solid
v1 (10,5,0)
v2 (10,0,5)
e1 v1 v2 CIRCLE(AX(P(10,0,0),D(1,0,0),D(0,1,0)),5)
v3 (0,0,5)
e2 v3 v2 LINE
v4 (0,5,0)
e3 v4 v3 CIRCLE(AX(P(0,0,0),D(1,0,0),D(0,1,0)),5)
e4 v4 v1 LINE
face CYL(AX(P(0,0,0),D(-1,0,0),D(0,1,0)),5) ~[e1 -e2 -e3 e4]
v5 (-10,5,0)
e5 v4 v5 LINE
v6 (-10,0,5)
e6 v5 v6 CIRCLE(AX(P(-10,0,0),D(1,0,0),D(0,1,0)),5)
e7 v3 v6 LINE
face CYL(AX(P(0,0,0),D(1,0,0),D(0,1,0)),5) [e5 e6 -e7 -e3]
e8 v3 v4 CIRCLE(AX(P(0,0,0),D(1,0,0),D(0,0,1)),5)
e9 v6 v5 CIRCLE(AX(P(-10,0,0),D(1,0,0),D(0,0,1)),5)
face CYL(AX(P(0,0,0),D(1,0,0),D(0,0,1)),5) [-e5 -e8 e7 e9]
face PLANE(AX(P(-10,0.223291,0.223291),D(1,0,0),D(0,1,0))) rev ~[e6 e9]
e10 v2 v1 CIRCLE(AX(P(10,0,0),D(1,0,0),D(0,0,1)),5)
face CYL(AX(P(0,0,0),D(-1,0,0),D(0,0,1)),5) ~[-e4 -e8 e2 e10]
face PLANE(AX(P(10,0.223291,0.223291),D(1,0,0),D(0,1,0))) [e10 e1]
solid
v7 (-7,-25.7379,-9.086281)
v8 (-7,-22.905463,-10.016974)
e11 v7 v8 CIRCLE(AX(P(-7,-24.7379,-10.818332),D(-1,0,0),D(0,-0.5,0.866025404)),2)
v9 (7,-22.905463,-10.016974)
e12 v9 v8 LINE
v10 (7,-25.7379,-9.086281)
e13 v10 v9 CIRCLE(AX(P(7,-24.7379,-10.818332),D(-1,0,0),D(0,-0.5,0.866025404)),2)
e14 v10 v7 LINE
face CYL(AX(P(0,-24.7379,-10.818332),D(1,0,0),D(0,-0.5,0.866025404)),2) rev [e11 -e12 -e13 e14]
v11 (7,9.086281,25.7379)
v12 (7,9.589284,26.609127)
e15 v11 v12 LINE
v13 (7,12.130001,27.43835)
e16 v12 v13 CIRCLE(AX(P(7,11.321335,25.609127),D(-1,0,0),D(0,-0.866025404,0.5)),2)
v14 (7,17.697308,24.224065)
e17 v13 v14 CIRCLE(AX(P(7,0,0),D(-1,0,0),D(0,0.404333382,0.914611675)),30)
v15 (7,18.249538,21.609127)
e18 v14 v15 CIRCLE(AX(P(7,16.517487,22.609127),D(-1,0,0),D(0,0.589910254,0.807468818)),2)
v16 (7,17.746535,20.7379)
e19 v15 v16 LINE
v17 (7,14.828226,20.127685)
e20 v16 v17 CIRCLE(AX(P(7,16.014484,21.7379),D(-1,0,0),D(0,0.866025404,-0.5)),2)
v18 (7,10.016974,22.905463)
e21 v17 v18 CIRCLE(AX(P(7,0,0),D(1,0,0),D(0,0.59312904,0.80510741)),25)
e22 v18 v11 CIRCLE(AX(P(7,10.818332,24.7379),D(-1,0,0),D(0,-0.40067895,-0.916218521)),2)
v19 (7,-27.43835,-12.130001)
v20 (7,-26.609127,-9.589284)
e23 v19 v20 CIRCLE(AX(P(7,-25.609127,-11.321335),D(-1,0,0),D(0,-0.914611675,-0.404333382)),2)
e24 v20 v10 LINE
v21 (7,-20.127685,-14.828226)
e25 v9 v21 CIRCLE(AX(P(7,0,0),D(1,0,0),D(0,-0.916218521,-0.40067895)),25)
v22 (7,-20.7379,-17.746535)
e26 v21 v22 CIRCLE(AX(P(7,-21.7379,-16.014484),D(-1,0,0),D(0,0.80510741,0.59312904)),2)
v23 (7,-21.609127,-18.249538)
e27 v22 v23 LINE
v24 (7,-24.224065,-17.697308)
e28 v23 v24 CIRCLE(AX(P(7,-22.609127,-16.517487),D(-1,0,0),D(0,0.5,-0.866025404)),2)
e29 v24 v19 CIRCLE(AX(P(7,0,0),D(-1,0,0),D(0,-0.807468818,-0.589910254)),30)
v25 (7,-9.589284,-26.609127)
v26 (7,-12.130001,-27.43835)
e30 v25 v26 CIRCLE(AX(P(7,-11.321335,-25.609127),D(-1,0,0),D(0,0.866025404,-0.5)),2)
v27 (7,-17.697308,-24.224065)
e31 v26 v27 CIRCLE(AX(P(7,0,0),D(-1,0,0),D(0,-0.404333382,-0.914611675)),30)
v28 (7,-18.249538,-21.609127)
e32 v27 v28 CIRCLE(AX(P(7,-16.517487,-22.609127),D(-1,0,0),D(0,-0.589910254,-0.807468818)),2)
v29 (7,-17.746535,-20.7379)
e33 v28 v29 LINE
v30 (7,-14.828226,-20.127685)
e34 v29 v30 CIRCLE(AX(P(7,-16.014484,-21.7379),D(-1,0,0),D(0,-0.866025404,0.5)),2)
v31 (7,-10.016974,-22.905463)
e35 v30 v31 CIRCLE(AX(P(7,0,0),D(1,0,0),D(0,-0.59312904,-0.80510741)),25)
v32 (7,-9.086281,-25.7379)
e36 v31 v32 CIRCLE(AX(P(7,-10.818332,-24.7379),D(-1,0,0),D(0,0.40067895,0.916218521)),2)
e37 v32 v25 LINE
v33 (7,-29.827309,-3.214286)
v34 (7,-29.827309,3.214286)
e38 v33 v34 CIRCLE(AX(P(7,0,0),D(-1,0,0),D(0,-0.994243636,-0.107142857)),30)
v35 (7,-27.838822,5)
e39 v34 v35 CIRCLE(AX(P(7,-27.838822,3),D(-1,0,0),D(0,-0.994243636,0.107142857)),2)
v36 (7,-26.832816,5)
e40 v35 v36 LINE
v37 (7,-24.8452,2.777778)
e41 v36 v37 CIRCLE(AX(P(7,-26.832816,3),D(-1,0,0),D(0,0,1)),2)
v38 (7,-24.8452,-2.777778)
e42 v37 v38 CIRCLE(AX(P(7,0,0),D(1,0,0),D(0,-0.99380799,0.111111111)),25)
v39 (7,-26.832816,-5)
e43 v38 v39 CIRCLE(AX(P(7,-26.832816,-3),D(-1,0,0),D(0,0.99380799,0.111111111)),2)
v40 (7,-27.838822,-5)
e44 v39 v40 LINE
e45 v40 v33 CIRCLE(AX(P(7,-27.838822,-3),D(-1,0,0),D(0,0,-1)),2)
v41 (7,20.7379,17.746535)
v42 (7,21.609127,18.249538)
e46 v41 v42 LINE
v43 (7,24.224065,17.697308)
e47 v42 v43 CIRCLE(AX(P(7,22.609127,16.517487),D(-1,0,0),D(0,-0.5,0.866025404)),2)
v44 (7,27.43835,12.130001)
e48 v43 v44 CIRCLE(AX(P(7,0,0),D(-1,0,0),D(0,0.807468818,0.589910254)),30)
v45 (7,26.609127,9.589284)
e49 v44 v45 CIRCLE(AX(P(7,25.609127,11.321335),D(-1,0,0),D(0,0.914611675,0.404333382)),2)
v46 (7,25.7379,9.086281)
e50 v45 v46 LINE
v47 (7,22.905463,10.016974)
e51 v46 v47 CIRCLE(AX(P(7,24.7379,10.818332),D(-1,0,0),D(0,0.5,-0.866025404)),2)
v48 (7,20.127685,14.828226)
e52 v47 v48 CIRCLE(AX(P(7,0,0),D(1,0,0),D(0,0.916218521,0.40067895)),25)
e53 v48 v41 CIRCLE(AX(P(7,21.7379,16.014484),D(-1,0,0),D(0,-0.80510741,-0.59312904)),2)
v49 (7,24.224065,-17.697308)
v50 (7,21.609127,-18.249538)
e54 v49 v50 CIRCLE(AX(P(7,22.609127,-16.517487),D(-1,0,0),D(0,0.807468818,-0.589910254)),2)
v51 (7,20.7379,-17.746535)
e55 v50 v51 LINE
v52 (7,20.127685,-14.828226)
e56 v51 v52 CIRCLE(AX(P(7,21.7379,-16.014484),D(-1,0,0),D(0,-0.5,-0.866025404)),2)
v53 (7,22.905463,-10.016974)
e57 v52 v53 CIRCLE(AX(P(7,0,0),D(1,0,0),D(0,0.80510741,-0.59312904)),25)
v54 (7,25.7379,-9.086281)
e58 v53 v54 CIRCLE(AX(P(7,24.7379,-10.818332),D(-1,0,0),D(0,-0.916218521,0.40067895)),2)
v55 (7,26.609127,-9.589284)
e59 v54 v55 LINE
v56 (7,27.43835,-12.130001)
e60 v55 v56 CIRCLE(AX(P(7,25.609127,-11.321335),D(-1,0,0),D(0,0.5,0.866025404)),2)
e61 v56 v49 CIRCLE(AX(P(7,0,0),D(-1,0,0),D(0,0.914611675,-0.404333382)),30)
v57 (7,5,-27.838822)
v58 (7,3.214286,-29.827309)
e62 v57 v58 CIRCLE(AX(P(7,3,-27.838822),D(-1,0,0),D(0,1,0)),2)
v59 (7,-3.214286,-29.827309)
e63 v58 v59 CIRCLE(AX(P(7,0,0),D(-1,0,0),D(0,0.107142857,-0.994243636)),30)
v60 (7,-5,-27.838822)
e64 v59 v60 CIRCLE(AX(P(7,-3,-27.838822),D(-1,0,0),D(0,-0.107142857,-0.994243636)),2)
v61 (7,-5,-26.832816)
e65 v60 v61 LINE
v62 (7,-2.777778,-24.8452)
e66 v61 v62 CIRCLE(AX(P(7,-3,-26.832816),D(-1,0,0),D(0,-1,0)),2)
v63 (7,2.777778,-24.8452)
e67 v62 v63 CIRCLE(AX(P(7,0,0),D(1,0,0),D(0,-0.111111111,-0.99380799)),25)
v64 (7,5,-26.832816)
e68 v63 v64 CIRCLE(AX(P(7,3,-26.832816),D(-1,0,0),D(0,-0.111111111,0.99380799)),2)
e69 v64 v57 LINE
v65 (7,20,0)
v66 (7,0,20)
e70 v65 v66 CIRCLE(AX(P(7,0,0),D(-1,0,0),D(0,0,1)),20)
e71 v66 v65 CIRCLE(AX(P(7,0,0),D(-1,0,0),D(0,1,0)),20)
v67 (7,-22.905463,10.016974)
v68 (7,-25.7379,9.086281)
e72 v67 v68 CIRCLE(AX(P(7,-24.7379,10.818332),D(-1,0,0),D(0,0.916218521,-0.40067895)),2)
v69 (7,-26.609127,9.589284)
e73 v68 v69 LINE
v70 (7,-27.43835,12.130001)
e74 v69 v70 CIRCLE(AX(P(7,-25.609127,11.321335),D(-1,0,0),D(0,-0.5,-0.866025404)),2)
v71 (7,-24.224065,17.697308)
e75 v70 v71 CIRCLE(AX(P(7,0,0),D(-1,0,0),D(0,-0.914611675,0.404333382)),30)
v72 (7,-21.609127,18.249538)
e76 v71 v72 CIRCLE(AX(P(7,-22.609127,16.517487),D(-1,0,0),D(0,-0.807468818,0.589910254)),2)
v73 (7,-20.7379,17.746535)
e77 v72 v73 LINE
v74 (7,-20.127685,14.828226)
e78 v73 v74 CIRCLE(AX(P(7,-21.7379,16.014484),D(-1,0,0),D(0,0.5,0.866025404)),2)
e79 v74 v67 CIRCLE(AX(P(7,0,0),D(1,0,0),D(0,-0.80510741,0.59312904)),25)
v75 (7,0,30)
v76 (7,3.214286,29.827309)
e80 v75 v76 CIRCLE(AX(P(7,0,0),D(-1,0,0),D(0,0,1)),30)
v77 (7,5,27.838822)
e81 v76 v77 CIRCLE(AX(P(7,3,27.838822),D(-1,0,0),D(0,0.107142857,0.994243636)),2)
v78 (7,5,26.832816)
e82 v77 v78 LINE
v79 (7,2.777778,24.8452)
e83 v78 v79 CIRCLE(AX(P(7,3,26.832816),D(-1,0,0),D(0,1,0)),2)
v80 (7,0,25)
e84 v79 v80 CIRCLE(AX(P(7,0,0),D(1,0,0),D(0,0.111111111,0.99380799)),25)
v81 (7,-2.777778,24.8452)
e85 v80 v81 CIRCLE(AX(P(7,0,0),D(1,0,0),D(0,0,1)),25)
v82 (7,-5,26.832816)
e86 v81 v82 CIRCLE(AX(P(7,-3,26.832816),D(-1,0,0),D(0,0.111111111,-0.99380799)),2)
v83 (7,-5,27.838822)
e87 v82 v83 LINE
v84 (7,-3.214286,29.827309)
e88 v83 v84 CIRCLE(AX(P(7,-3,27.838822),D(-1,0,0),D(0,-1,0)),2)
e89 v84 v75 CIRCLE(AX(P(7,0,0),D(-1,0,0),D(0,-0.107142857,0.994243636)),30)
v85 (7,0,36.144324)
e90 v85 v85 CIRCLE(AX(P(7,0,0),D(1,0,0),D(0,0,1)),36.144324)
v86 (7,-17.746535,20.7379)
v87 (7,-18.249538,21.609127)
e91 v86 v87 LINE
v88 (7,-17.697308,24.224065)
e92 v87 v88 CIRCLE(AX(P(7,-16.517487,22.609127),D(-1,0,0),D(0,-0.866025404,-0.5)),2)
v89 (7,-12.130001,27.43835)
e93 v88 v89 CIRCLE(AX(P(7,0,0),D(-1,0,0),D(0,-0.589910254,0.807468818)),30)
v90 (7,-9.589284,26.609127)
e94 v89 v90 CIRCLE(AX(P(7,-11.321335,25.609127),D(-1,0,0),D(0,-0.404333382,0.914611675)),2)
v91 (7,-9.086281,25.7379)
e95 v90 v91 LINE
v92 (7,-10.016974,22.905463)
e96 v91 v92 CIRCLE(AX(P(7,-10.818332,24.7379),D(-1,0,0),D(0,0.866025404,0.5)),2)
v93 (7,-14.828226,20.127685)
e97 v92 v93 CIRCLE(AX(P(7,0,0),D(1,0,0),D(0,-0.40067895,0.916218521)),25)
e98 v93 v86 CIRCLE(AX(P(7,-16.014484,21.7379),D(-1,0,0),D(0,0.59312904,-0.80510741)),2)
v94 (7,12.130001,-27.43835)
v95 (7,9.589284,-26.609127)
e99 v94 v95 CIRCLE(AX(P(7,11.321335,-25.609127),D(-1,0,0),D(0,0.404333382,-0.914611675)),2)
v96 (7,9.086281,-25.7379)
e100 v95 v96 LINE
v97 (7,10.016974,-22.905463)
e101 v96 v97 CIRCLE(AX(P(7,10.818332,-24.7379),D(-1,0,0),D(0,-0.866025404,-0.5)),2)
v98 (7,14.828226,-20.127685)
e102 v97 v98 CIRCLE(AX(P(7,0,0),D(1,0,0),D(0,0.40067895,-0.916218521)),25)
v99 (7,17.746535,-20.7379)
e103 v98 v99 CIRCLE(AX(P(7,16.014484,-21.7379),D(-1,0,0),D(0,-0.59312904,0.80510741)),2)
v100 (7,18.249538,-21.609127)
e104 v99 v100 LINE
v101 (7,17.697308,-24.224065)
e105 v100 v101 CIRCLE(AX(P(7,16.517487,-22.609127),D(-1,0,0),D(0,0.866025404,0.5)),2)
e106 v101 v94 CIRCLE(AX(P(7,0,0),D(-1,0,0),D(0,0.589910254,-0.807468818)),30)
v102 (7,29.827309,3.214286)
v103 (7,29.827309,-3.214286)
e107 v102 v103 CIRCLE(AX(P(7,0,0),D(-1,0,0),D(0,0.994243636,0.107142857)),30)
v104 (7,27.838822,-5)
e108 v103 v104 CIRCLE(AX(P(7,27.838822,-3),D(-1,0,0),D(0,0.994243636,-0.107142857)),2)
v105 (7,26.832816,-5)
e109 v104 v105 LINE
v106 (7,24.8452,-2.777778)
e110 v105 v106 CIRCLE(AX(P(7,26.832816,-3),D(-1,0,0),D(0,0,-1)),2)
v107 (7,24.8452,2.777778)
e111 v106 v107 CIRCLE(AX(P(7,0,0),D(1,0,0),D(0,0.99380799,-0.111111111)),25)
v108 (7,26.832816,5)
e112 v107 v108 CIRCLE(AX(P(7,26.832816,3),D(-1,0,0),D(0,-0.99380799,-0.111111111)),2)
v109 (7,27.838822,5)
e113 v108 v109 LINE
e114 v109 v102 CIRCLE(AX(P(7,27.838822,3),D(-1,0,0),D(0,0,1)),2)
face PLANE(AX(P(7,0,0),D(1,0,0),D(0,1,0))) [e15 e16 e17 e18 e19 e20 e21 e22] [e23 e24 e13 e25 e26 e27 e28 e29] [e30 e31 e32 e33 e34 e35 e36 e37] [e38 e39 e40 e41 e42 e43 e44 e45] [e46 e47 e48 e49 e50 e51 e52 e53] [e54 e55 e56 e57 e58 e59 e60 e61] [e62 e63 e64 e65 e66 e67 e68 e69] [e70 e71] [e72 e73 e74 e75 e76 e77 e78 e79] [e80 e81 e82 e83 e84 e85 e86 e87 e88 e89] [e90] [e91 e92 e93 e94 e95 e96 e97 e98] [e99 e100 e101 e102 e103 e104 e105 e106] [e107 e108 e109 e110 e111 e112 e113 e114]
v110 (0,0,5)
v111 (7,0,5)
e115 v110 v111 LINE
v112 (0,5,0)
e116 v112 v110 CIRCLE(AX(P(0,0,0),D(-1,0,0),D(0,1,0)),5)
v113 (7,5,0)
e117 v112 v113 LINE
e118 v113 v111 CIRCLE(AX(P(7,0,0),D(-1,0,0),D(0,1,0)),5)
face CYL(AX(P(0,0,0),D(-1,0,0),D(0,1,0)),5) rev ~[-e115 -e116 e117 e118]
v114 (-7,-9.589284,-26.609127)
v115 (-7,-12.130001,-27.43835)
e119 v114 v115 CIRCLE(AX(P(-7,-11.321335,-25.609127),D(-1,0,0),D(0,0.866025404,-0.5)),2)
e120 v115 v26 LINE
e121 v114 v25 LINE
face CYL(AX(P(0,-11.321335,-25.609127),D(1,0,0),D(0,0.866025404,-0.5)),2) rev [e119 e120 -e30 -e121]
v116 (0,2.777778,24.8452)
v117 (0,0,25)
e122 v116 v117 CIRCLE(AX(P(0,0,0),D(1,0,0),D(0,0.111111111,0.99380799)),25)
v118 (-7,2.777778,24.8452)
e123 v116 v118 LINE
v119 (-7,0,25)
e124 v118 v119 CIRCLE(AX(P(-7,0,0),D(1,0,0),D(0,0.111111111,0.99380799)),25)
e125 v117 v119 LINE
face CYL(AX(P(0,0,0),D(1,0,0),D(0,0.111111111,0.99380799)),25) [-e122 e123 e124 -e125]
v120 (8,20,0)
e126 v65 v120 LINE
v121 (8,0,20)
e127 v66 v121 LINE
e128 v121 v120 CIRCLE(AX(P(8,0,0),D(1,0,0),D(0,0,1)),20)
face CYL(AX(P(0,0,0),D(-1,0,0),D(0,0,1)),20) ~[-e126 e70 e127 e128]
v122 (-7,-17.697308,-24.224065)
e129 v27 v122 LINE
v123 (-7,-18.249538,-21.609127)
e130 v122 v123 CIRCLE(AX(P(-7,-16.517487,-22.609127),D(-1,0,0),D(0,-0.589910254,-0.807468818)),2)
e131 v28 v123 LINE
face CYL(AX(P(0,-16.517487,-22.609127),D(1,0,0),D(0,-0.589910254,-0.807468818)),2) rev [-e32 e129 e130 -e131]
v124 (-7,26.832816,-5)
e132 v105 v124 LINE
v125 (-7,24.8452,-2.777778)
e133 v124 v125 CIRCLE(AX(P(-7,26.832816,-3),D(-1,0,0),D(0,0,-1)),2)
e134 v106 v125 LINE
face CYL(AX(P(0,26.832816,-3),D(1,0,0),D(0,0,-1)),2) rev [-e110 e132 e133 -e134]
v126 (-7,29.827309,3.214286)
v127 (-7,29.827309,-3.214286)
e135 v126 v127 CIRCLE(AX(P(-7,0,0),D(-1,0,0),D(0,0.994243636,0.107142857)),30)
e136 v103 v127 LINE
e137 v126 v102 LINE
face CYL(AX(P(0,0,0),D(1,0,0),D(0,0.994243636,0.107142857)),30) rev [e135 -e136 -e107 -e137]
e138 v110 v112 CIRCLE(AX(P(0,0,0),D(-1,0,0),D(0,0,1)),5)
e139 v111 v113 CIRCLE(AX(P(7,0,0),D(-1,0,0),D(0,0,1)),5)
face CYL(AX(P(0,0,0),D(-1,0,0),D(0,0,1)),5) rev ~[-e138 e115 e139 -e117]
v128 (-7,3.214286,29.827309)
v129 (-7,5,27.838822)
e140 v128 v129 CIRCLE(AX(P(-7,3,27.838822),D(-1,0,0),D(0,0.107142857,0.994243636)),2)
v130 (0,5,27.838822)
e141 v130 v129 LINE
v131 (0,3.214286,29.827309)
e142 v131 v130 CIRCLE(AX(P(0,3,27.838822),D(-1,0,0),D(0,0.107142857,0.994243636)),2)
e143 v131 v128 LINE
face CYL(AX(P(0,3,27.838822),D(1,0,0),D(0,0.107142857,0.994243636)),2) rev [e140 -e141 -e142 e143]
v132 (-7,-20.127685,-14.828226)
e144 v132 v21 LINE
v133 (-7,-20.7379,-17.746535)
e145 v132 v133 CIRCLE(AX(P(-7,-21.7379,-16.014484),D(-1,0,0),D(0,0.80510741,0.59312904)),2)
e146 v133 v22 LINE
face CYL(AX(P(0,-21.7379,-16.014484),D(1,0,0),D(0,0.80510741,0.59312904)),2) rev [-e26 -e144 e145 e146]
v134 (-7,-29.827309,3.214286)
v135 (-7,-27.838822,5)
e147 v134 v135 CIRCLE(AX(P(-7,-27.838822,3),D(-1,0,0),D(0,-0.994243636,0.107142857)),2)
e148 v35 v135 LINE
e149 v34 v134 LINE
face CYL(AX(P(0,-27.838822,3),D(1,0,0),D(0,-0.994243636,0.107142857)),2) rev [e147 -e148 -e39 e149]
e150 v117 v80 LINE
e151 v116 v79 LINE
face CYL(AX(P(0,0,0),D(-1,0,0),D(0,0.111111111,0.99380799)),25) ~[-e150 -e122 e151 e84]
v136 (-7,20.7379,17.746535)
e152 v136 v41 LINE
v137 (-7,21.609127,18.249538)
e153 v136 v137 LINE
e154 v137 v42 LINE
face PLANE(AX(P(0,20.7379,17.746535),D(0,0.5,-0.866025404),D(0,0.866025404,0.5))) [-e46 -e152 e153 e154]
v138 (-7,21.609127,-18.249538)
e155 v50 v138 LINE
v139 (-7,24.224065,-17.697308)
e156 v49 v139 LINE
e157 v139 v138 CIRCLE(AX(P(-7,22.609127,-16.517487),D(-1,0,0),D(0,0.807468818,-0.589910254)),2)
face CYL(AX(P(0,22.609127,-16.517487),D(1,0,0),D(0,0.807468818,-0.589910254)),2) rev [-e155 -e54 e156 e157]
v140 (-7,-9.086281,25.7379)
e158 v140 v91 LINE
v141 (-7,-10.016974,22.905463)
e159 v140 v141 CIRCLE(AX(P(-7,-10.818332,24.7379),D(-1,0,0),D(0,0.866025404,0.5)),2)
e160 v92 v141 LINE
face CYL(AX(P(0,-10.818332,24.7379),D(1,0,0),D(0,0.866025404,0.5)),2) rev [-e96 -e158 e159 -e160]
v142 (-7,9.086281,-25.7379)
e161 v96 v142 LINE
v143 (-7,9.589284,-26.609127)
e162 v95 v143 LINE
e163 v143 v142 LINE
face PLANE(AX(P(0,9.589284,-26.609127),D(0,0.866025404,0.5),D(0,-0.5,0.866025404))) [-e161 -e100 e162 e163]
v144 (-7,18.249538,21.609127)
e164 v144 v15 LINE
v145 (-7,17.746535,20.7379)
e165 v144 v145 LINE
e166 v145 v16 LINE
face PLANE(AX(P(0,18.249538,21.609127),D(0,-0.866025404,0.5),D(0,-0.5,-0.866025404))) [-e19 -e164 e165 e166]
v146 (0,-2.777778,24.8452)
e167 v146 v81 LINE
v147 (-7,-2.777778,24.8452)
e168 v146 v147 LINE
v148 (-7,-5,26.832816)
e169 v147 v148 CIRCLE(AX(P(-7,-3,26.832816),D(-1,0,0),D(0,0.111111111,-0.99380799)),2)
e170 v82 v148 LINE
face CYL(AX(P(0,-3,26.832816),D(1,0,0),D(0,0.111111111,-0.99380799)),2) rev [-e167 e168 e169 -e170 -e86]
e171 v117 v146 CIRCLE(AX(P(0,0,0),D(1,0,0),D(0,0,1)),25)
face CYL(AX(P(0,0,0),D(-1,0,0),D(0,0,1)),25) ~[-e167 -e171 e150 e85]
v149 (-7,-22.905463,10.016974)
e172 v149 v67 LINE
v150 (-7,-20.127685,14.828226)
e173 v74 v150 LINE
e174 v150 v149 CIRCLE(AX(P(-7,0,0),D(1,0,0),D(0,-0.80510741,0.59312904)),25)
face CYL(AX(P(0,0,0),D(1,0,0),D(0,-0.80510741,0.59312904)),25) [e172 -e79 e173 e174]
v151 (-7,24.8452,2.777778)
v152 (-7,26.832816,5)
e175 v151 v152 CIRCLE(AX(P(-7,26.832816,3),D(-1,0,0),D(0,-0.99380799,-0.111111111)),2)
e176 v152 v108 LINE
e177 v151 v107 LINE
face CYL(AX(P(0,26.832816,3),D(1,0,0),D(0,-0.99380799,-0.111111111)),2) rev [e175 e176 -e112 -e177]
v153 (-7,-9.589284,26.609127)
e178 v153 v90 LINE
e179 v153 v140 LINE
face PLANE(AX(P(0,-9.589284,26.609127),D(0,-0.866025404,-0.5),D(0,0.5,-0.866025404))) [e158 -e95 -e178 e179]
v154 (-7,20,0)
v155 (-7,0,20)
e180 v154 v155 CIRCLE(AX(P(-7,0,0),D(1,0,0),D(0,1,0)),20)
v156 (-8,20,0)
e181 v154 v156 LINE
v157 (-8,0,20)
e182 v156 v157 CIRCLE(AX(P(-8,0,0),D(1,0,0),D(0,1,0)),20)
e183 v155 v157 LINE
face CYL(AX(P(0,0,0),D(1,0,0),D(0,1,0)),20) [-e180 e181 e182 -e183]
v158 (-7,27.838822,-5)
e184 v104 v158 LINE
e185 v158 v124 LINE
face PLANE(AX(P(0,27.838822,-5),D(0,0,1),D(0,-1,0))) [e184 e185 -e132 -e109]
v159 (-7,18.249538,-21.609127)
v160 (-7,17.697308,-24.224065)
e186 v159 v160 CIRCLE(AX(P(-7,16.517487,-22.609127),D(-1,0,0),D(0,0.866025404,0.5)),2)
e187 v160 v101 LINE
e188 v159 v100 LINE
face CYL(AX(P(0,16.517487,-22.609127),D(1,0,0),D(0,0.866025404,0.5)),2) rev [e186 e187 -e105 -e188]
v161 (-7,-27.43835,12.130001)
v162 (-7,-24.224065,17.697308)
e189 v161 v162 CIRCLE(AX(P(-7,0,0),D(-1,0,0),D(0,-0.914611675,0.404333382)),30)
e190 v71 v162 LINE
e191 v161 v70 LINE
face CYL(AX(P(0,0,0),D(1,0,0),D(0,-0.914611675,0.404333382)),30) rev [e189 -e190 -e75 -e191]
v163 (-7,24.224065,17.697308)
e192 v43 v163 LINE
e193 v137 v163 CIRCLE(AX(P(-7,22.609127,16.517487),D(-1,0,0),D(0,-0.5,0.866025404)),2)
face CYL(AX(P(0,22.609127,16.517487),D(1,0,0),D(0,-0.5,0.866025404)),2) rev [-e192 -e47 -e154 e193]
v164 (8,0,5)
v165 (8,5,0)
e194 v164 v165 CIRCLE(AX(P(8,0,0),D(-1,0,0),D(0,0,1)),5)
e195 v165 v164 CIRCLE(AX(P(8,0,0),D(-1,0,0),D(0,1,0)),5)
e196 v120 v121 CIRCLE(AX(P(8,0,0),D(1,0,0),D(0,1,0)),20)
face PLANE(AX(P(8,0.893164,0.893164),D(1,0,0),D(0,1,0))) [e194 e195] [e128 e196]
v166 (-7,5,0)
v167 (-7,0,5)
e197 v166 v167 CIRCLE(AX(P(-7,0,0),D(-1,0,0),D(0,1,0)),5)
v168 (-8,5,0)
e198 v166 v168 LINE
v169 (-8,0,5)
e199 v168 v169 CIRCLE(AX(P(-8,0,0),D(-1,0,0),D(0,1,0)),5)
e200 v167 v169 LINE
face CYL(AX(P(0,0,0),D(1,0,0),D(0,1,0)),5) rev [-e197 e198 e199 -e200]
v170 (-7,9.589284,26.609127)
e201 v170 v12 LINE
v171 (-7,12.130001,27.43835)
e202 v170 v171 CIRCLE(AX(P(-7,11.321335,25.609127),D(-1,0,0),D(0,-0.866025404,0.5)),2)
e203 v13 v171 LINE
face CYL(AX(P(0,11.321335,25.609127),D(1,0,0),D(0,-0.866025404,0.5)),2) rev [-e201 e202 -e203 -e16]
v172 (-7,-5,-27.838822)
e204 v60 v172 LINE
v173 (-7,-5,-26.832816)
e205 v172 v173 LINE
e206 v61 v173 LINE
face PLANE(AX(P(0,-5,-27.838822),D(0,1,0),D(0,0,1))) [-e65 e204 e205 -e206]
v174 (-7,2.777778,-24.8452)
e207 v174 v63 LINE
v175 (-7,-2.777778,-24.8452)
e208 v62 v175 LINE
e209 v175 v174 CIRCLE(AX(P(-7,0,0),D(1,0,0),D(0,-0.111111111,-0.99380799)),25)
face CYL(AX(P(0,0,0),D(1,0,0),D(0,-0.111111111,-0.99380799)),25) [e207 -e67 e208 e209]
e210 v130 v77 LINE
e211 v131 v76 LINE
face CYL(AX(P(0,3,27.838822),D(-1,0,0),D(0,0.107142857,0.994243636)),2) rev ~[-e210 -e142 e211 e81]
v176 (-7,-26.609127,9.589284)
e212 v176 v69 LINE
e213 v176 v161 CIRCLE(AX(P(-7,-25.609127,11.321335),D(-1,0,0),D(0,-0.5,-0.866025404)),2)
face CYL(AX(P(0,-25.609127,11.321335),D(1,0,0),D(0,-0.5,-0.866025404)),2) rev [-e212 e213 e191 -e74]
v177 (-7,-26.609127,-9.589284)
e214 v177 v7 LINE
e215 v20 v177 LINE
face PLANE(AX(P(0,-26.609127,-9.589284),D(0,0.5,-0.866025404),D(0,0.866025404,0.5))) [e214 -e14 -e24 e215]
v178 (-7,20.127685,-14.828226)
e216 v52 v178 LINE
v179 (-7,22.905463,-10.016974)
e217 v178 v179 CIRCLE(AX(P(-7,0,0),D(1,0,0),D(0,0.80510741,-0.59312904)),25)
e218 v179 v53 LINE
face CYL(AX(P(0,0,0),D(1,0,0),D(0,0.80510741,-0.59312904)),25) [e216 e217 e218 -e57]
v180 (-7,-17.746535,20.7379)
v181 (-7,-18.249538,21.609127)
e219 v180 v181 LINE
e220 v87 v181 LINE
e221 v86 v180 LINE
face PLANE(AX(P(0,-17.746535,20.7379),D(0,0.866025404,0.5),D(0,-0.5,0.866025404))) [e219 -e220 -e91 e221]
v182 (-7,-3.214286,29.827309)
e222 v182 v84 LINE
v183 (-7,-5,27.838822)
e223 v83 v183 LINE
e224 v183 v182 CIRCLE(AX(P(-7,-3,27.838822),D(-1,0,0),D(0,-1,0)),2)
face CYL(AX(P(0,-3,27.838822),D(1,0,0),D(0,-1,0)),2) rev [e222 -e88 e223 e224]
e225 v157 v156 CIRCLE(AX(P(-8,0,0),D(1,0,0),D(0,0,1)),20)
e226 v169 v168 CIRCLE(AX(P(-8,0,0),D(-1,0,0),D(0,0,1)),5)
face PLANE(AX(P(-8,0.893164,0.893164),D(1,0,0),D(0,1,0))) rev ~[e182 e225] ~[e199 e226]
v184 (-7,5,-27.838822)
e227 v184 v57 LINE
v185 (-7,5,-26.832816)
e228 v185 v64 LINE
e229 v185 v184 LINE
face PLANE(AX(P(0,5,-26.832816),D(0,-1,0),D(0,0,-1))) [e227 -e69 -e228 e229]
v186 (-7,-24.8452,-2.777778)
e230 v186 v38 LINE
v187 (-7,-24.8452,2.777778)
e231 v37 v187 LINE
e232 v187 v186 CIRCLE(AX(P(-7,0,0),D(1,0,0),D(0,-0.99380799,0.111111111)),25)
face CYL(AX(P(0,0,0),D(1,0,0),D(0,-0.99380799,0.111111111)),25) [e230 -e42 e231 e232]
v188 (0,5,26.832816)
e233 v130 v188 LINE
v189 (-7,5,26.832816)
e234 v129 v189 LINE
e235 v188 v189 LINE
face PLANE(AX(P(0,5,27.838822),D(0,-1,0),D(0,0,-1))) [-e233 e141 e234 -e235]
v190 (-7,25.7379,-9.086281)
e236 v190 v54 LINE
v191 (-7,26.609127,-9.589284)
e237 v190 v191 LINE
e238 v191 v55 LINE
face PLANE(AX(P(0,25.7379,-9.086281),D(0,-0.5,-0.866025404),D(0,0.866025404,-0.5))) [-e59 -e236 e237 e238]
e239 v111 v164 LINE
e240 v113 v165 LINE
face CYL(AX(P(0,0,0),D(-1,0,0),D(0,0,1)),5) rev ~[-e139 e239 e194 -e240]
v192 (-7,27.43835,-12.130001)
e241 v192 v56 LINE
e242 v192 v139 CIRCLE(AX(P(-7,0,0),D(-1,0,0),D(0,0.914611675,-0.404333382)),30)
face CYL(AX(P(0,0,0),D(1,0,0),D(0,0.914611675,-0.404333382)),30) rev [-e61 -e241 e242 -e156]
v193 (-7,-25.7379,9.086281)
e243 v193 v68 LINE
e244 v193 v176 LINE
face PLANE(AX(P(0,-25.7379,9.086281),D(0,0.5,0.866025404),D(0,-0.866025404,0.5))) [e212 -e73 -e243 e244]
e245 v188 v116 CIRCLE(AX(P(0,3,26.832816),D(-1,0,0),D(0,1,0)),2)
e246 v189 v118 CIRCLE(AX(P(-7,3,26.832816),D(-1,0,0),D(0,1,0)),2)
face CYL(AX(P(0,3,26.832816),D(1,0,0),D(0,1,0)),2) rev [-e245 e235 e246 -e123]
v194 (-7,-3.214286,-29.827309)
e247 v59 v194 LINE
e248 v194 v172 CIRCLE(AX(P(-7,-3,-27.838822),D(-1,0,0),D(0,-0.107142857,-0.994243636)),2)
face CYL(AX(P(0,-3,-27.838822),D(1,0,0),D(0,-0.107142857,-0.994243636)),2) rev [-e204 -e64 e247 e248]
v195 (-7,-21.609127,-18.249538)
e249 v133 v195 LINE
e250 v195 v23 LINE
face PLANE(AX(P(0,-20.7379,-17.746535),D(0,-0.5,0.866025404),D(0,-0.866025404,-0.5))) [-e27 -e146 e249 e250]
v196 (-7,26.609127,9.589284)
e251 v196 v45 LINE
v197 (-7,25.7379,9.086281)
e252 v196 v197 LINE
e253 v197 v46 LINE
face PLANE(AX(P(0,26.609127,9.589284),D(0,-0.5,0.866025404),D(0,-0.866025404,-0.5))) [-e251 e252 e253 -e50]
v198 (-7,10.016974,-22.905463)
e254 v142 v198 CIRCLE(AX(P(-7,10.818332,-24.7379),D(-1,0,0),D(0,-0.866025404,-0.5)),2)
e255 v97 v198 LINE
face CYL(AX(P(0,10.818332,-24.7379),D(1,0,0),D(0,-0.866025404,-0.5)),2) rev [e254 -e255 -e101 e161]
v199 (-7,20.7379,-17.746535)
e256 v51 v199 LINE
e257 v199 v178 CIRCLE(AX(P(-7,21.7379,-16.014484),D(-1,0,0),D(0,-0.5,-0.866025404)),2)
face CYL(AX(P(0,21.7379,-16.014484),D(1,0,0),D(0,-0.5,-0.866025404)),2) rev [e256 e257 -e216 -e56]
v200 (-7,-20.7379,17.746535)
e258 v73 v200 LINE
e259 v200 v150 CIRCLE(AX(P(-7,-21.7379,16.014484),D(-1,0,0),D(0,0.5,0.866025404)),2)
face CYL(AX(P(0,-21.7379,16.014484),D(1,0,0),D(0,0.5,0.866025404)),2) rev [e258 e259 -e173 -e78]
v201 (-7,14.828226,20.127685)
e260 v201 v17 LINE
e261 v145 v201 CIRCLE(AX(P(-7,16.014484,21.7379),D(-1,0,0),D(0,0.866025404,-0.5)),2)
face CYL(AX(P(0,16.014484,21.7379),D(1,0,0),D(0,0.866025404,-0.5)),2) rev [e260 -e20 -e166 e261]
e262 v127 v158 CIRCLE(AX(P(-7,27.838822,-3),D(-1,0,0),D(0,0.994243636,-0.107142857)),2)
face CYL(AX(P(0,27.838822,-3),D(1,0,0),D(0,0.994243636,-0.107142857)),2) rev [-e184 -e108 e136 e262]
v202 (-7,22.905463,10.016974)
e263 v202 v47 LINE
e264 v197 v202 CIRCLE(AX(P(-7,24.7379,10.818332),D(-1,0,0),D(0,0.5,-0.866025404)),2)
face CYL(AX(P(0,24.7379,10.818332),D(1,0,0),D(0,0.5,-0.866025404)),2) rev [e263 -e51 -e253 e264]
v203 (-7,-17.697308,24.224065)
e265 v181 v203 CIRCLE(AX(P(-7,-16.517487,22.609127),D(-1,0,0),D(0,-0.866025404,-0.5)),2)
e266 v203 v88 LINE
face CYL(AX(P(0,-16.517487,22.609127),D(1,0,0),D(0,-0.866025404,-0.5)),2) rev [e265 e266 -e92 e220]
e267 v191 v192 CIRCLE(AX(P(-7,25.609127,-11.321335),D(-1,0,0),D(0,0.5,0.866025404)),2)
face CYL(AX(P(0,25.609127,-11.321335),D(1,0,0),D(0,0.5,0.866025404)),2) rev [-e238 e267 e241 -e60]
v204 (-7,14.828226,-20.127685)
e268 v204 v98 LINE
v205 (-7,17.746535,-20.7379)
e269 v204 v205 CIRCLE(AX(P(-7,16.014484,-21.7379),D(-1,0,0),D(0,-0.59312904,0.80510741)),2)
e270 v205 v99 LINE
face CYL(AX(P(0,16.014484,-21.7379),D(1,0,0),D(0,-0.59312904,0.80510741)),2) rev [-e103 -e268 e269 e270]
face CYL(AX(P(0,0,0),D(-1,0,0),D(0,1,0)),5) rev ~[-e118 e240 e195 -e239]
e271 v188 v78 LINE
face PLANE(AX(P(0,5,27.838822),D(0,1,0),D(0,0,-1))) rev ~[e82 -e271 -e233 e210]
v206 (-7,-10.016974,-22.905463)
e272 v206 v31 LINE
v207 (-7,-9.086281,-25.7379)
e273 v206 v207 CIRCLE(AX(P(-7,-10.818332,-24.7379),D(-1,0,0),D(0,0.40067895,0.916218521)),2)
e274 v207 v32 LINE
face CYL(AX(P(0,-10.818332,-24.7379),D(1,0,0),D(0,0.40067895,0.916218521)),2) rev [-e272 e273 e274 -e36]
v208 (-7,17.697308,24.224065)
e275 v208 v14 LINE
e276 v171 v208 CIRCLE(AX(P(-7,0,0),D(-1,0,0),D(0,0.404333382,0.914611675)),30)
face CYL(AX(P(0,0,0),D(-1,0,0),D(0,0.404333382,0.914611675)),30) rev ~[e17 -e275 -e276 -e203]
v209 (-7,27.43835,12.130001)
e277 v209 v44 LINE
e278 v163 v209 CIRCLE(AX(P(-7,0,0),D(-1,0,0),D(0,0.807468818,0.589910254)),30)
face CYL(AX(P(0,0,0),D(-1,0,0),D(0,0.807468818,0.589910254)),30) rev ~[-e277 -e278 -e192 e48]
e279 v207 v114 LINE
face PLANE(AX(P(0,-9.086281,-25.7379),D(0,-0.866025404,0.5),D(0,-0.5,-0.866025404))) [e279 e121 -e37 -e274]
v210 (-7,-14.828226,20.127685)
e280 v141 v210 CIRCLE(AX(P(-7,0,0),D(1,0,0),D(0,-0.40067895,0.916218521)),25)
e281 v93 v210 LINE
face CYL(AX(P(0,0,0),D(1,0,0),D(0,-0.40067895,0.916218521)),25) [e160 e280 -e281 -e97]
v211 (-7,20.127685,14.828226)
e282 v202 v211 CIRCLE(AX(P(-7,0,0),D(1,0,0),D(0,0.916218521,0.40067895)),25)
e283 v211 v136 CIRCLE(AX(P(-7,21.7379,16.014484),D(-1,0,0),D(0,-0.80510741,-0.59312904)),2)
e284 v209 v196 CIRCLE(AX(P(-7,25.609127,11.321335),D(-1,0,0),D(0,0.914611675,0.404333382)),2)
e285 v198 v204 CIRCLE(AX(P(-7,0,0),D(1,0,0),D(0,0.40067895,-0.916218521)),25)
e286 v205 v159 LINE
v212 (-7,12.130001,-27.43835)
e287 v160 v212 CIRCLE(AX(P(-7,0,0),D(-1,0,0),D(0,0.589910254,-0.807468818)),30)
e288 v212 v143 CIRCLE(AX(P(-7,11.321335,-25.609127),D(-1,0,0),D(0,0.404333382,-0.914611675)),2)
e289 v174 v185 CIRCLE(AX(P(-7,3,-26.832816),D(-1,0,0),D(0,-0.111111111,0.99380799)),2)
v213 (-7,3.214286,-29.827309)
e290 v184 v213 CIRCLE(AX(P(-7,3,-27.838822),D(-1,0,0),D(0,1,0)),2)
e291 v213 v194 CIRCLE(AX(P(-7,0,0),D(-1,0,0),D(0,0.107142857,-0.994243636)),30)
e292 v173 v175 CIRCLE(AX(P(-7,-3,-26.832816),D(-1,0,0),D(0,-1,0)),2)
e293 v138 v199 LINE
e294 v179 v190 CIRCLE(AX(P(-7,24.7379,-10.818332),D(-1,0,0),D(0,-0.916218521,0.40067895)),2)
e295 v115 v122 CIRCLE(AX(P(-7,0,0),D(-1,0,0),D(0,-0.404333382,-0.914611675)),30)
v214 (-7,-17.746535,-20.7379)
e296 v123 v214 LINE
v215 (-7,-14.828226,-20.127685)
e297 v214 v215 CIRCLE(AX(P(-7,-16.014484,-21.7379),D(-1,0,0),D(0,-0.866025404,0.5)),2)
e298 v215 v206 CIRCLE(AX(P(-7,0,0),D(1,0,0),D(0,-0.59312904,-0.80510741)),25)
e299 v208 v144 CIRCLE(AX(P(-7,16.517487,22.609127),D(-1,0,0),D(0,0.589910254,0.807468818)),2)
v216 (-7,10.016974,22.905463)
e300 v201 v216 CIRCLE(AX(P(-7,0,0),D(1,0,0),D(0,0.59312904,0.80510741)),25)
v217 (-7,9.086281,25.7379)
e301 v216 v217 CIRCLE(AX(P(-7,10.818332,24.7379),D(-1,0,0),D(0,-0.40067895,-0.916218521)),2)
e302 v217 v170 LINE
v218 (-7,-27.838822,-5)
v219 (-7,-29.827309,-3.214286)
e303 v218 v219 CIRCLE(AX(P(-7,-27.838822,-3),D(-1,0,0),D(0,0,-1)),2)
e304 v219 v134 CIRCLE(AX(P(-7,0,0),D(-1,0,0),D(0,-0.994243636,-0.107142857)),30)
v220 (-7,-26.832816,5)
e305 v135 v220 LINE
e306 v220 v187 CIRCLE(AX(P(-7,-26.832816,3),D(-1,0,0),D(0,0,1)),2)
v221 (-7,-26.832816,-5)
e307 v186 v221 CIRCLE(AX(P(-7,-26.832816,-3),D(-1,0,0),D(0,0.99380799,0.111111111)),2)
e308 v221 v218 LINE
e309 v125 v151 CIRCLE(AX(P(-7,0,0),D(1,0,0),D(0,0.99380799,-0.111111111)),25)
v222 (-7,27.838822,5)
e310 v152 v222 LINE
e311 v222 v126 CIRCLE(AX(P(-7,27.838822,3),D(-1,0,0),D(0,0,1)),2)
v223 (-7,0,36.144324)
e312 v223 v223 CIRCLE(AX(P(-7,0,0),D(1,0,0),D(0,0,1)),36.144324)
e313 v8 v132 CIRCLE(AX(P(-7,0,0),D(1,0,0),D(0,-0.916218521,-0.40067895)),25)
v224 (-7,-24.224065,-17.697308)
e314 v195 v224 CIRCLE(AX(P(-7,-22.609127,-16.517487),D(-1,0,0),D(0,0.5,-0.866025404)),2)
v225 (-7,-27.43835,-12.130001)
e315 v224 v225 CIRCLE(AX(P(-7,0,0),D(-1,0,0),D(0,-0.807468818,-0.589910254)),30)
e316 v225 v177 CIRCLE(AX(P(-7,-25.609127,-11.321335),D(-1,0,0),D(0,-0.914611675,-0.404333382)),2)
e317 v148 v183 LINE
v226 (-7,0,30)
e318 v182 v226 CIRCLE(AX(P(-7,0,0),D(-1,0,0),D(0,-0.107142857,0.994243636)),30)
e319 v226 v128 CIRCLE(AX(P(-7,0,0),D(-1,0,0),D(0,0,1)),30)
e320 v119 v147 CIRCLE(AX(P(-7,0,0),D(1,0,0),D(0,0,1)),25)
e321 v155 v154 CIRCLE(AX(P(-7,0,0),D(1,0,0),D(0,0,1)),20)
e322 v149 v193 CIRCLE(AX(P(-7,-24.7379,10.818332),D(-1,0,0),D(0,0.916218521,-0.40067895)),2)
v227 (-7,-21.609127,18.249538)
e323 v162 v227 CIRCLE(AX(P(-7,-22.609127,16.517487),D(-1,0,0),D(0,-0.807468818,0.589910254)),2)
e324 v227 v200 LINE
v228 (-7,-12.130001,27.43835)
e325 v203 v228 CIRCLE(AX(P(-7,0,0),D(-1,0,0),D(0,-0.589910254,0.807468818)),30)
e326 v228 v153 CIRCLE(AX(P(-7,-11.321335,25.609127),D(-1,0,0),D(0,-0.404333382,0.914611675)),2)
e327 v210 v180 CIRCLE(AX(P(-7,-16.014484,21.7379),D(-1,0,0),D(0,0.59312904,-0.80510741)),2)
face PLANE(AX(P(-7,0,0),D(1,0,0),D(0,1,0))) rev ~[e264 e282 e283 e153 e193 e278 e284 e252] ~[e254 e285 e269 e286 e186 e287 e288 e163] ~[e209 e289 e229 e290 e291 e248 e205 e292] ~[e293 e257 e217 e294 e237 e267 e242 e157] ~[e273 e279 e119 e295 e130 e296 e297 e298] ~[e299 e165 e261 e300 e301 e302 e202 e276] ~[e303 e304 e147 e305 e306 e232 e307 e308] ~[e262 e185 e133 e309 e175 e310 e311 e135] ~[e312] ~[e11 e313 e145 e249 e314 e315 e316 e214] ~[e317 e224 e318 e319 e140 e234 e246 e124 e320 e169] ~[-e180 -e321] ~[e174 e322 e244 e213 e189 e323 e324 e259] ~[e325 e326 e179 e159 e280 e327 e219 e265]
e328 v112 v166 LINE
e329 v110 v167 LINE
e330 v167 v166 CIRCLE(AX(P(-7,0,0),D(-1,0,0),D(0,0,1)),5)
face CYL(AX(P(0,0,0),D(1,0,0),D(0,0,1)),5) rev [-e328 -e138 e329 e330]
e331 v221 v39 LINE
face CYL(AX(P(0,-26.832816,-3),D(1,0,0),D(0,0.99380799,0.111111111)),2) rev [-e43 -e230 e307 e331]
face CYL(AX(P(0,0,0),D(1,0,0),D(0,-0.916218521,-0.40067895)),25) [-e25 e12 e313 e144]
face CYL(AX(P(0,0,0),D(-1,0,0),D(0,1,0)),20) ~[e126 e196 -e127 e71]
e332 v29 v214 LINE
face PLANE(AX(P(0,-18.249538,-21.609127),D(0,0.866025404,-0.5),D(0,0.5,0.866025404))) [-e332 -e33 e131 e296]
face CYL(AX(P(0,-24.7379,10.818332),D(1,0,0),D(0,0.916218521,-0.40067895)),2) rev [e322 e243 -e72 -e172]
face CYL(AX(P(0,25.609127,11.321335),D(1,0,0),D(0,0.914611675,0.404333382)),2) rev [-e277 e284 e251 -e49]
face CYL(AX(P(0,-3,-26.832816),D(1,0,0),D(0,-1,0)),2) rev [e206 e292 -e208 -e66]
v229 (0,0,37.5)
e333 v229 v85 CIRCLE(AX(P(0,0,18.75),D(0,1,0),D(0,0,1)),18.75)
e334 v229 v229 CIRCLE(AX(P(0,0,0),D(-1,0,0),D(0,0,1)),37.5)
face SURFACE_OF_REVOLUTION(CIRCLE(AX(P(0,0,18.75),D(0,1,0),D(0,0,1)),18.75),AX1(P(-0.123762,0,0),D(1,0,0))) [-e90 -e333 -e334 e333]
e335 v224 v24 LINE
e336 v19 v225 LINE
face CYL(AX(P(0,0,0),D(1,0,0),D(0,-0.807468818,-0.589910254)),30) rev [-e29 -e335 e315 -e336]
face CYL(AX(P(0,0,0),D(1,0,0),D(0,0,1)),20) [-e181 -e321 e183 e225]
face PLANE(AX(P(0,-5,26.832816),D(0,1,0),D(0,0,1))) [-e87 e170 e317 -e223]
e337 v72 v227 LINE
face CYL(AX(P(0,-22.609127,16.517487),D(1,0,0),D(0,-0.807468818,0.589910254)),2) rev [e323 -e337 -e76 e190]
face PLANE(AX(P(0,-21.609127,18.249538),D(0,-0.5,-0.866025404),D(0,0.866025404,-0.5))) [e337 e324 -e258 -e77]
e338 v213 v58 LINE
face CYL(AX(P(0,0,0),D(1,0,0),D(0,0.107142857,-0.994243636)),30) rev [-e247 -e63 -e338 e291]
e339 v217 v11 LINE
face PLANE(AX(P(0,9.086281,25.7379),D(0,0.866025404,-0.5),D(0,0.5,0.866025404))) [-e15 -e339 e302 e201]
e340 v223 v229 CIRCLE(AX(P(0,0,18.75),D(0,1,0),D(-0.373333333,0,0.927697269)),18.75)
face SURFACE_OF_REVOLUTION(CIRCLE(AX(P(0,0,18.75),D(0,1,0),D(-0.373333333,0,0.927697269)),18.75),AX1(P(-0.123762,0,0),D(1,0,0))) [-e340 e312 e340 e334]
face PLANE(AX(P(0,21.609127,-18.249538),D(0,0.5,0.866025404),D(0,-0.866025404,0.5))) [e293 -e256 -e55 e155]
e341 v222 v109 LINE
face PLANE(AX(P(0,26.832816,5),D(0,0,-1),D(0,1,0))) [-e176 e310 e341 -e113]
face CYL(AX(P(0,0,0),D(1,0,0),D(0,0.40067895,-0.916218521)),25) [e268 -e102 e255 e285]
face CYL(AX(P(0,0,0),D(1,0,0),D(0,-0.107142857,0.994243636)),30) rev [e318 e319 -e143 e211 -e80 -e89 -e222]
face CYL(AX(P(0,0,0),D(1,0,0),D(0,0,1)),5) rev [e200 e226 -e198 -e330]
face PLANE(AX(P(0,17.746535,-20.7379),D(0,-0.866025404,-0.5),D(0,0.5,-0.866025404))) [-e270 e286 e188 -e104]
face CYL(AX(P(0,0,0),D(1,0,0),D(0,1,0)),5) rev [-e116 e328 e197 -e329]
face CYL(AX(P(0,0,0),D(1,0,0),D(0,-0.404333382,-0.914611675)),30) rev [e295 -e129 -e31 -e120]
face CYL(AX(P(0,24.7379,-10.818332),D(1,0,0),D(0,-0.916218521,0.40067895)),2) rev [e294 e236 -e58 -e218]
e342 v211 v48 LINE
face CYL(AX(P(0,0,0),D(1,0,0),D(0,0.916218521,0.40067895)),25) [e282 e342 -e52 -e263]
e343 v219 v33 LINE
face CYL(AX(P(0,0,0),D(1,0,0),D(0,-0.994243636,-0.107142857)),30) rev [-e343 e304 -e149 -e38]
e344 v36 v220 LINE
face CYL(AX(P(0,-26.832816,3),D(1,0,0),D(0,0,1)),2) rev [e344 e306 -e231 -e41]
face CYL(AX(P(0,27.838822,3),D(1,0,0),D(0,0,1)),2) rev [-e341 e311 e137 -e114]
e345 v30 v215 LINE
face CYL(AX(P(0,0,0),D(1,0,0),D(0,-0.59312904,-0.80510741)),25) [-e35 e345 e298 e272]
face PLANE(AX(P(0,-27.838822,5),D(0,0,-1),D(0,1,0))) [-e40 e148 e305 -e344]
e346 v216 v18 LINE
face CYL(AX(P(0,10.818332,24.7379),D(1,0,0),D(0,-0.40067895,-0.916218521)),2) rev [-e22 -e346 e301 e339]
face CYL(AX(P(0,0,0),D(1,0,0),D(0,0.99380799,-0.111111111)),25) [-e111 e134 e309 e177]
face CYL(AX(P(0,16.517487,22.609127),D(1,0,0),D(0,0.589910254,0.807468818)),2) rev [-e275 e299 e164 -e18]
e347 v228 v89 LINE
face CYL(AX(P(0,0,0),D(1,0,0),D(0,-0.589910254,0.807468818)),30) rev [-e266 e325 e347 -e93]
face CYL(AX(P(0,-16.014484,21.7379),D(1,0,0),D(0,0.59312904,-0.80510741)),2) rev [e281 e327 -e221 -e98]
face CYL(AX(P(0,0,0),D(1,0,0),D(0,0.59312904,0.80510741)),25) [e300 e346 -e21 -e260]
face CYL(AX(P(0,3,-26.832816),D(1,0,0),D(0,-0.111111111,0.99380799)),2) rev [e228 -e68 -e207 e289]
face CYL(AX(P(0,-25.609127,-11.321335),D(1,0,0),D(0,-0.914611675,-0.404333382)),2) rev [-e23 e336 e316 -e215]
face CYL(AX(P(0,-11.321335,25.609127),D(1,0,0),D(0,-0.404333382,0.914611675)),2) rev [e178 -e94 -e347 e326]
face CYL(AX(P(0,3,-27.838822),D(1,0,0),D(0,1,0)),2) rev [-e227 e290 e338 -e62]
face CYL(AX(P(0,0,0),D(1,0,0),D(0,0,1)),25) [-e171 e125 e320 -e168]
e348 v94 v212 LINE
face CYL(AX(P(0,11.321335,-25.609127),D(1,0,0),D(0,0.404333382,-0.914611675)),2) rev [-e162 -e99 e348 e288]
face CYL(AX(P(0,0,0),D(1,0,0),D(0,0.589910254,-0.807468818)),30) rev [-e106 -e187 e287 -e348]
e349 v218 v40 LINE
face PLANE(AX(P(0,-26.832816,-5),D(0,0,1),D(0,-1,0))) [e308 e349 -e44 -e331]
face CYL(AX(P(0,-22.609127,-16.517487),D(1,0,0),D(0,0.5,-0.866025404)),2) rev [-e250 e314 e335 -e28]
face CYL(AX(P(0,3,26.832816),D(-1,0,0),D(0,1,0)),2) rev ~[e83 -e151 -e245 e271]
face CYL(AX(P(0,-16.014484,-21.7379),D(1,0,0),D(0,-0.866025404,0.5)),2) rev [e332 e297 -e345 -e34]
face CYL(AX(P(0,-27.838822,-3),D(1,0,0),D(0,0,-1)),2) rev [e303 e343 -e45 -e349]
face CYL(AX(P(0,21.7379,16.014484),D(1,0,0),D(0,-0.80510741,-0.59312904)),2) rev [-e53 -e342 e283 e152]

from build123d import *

# Parameters (mm, degrees)
F1_DEPTH = 7
F2_DEPTH = 8
F5_DEPTH = 10


with BuildPart() as f1:
    # F0 (on Right) → F1 (new body, symmetric)
    with BuildSketch(Plane.YZ):
        with BuildLine():
            ThreePointArc((0, 37.5), (-26.5165042945, -26.5165042945), (37.5, 0))
            ThreePointArc((37.5, 0), (26.5165042945, 26.5165042945), (0, 37.5))
        make_face()
        with BuildLine():
            ThreePointArc((35, 0), (-24.7487373415, -24.7487373415), (0, 35))
            ThreePointArc((0, 35), (24.7487373415, 24.7487373415), (35, 0))
        make_face(mode=Mode.SUBTRACT)
        with BuildLine():
            ThreePointArc((35, 0), (24.7487373415, 24.7487373415), (0, 35))
            ThreePointArc((0, 35), (-24.7487373415, -24.7487373415), (35, 0))
        make_face()
        with BuildLine():
            ThreePointArc((-10.0169737534, -22.9054630345), (-8.9182751228, -24.1135722952), (-9.0862808461, -25.7379000772))
            Line((-9.0862808461, -25.7379000772), (-9.5892838882, -26.6091269025))
            ThreePointArc((-9.5892838882, -26.6091269025), (-10.700800761, -27.5104258363), (-12.1300014597, -27.4383502527))
            ThreePointArc((-12.1300014597, -27.4383502527), (-15, -25.9807621135), (-17.6973076269, -24.2240645384))
            ThreePointArc((-17.6973076269, -24.2240645384), (-18.4743272627, -23.0223782181), (-18.249537926, -21.6091269025))
            Line((-18.249537926, -21.6091269025), (-17.7465348839, -20.7379000772))
            ThreePointArc((-17.7465348839, -20.7379000772), (-16.4238286222, -19.7802389618), (-14.8282259966, -20.1276852567))
            ThreePointArc((-14.8282259966, -20.1276852567), (-12.5, -21.6506350946), (-10.0169737534, -22.9054630345))
        make_face(mode=Mode.SUBTRACT)
        with BuildLine():
            ThreePointArc((-20.1276852567, -14.8282259966), (-19.7802389618, -16.4238286222), (-20.7379000772, -17.7465348839))
            Line((-20.7379000772, -17.7465348839), (-21.6091269025, -18.249537926))
            ThreePointArc((-21.6091269025, -18.249537926), (-23.0223782181, -18.4743272627), (-24.2240645384, -17.6973076269))
            ThreePointArc((-24.2240645384, -17.6973076269), (-25.9807621135, -15), (-27.4383502527, -12.1300014597))
            ThreePointArc((-27.4383502527, -12.1300014597), (-27.5104258363, -10.700800761), (-26.6091269025, -9.5892838882))
            Line((-26.6091269025, -9.5892838882), (-25.7379000772, -9.0862808461))
            ThreePointArc((-25.7379000772, -9.0862808461), (-24.1135722952, -8.9182751228), (-22.9054630345, -10.0169737534))
            ThreePointArc((-22.9054630345, -10.0169737534), (-21.6506350946, -12.5), (-20.1276852567, -14.8282259966))
        make_face(mode=Mode.SUBTRACT)
        with BuildLine():
            ThreePointArc((2.7777777778, -24.84519975), (4.3333333333, -25.342103745), (5, -26.83281573))
            Line((5, -26.83281573), (5, -27.8388218142))
            ThreePointArc((5, -27.8388218142), (4.4880476183, -29.1751280237), (3.2142857143, -29.8273090866))
            ThreePointArc((3.2142857143, -29.8273090866), (0, -30), (-3.2142857143, -29.8273090866))
            ThreePointArc((-3.2142857143, -29.8273090866), (-4.4880476183, -29.1751280237), (-5, -27.8388218142))
            Line((-5, -27.8388218142), (-5, -26.83281573))
            ThreePointArc((-5, -26.83281573), (-4.3333333333, -25.342103745), (-2.7777777778, -24.84519975))
            ThreePointArc((-2.7777777778, -24.84519975), (0, -25), (2.7777777778, -24.84519975))
        make_face(mode=Mode.SUBTRACT)
        with BuildLine():
            ThreePointArc((14.8282259966, -20.1276852567), (16.4238286222, -19.7802389618), (17.7465348839, -20.7379000772))
            Line((17.7465348839, -20.7379000772), (18.249537926, -21.6091269025))
            ThreePointArc((18.249537926, -21.6091269025), (18.4743272627, -23.0223782181), (17.6973076269, -24.2240645384))
            ThreePointArc((17.6973076269, -24.2240645384), (15, -25.9807621135), (12.1300014597, -27.4383502527))
            ThreePointArc((12.1300014597, -27.4383502527), (10.700800761, -27.5104258363), (9.5892838882, -26.6091269025))
            Line((9.5892838882, -26.6091269025), (9.0862808461, -25.7379000772))
            ThreePointArc((9.0862808461, -25.7379000772), (8.9182751228, -24.1135722952), (10.0169737534, -22.9054630345))
            ThreePointArc((10.0169737534, -22.9054630345), (12.5, -21.6506350946), (14.8282259966, -20.1276852567))
        make_face(mode=Mode.SUBTRACT)
        with BuildLine():
            ThreePointArc((22.9054630345, -10.0169737534), (24.1135722952, -8.9182751228), (25.7379000772, -9.0862808461))
            Line((25.7379000772, -9.0862808461), (26.6091269025, -9.5892838882))
            ThreePointArc((26.6091269025, -9.5892838882), (27.5104258363, -10.700800761), (27.4383502527, -12.1300014597))
            ThreePointArc((27.4383502527, -12.1300014597), (25.9807621135, -15), (24.2240645384, -17.6973076269))
            ThreePointArc((24.2240645384, -17.6973076269), (23.0223782181, -18.4743272627), (21.6091269025, -18.249537926))
            Line((21.6091269025, -18.249537926), (20.7379000772, -17.7465348839))
            ThreePointArc((20.7379000772, -17.7465348839), (19.7802389618, -16.4238286222), (20.1276852567, -14.8282259966))
            ThreePointArc((20.1276852567, -14.8282259966), (21.6506350946, -12.5), (22.9054630345, -10.0169737534))
        make_face(mode=Mode.SUBTRACT)
        with BuildLine():
            ThreePointArc((-24.84519975, -2.7777777778), (-25.342103745, -4.3333333333), (-26.83281573, -5))
            Line((-26.83281573, -5), (-27.8388218142, -5))
            ThreePointArc((-27.8388218142, -5), (-29.1751280237, -4.4880476183), (-29.8273090866, -3.2142857143))
            ThreePointArc((-29.8273090866, -3.2142857143), (-30, 0), (-29.8273090866, 3.2142857143))
            ThreePointArc((-29.8273090866, 3.2142857143), (-29.1751280237, 4.4880476183), (-27.8388218142, 5))
            Line((-27.8388218142, 5), (-26.83281573, 5))
            ThreePointArc((-26.83281573, 5), (-25.342103745, 4.3333333333), (-24.84519975, 2.7777777778))
            ThreePointArc((-24.84519975, 2.7777777778), (-25, 0), (-24.84519975, -2.7777777778))
        make_face(mode=Mode.SUBTRACT)
        with BuildLine():
            ThreePointArc((-22.9054630345, 10.0169737534), (-24.1135722952, 8.9182751228), (-25.7379000772, 9.0862808461))
            Line((-25.7379000772, 9.0862808461), (-26.6091269025, 9.5892838882))
            ThreePointArc((-26.6091269025, 9.5892838882), (-27.5104258363, 10.700800761), (-27.4383502527, 12.1300014597))
            ThreePointArc((-27.4383502527, 12.1300014597), (-25.9807621135, 15), (-24.2240645384, 17.6973076269))
            ThreePointArc((-24.2240645384, 17.6973076269), (-23.0223782181, 18.4743272627), (-21.6091269025, 18.249537926))
            Line((-21.6091269025, 18.249537926), (-20.7379000772, 17.7465348839))
            ThreePointArc((-20.7379000772, 17.7465348839), (-19.7802389618, 16.4238286222), (-20.1276852567, 14.8282259966))
            ThreePointArc((-20.1276852567, 14.8282259966), (-21.6506350946, 12.5), (-22.9054630345, 10.0169737534))
        make_face(mode=Mode.SUBTRACT)
        with BuildLine():
            ThreePointArc((-17.6973076269, 24.2240645384), (-15, 25.9807621135), (-12.1300014597, 27.4383502527))
            ThreePointArc((-12.1300014597, 27.4383502527), (-10.700800761, 27.5104258363), (-9.5892838882, 26.6091269025))
            Line((-9.5892838882, 26.6091269025), (-9.0862808461, 25.7379000772))
            ThreePointArc((-9.0862808461, 25.7379000772), (-8.9182751228, 24.1135722952), (-10.0169737534, 22.9054630345))
            ThreePointArc((-10.0169737534, 22.9054630345), (-12.5, 21.6506350946), (-14.8282259966, 20.1276852567))
            ThreePointArc((-14.8282259966, 20.1276852567), (-16.4238286222, 19.7802389618), (-17.7465348839, 20.7379000772))
            Line((-17.7465348839, 20.7379000772), (-18.249537926, 21.6091269025))
            ThreePointArc((-18.249537926, 21.6091269025), (-18.4743272627, 23.0223782181), (-17.6973076269, 24.2240645384))
        make_face(mode=Mode.SUBTRACT)
        with BuildLine():
            ThreePointArc((20, 0), (-14.1421356237, -14.1421356237), (0, 20))
            ThreePointArc((0, 20), (14.1421356237, 14.1421356237), (20, 0))
        make_face(mode=Mode.SUBTRACT)
        with BuildLine():
            ThreePointArc((24.84519975, 2.7777777778), (25.342103745, 4.3333333333), (26.83281573, 5))
            Line((26.83281573, 5), (27.8388218142, 5))
            ThreePointArc((27.8388218142, 5), (29.1751280237, 4.4880476183), (29.8273090866, 3.2142857143))
            ThreePointArc((29.8273090866, 3.2142857143), (30, 0), (29.8273090866, -3.2142857143))
            ThreePointArc((29.8273090866, -3.2142857143), (29.1751280237, -4.4880476183), (27.8388218142, -5))
            Line((27.8388218142, -5), (26.83281573, -5))
            ThreePointArc((26.83281573, -5), (25.342103745, -4.3333333333), (24.84519975, -2.7777777778))
            ThreePointArc((24.84519975, -2.7777777778), (25, 0), (24.84519975, 2.7777777778))
        make_face(mode=Mode.SUBTRACT)
        with BuildLine():
            ThreePointArc((20.1276852567, 14.8282259966), (19.7802389618, 16.4238286222), (20.7379000772, 17.7465348839))
            Line((20.7379000772, 17.7465348839), (21.6091269025, 18.249537926))
            ThreePointArc((21.6091269025, 18.249537926), (23.0223782181, 18.4743272627), (24.2240645384, 17.6973076269))
            ThreePointArc((24.2240645384, 17.6973076269), (25.9807621135, 15), (27.4383502527, 12.1300014597))
            ThreePointArc((27.4383502527, 12.1300014597), (27.5104258363, 10.700800761), (26.6091269025, 9.5892838882))
            Line((26.6091269025, 9.5892838882), (25.7379000772, 9.0862808461))
            ThreePointArc((25.7379000772, 9.0862808461), (24.1135722952, 8.9182751228), (22.9054630345, 10.0169737534))
            ThreePointArc((22.9054630345, 10.0169737534), (21.6506350946, 12.5), (20.1276852567, 14.8282259966))
        make_face(mode=Mode.SUBTRACT)
        with BuildLine():
            ThreePointArc((-3.2142857143, 29.8273090866), (-1.6094606864, 29.9567961621), (0, 30))
            ThreePointArc((0, 30), (1.6094606864, 29.9567961621), (3.2142857143, 29.8273090866))
            ThreePointArc((3.2142857143, 29.8273090866), (4.4880476183, 29.1751280237), (5, 27.8388218142))
            Line((5, 27.8388218142), (5, 26.83281573))
            ThreePointArc((5, 26.83281573), (4.3333333333, 25.342103745), (2.7777777778, 24.84519975))
            ThreePointArc((2.7777777778, 24.84519975), (1.3910438976, 24.9612699371), (0, 25))
            ThreePointArc((0, 25), (-1.3910438976, 24.9612699371), (-2.7777777778, 24.84519975))
            ThreePointArc((-2.7777777778, 24.84519975), (-4.3333333333, 25.342103745), (-5, 26.83281573))
            Line((-5, 26.83281573), (-5, 27.8388218142))
            ThreePointArc((-5, 27.8388218142), (-4.4880476183, 29.1751280237), (-3.2142857143, 29.8273090866))
        make_face(mode=Mode.SUBTRACT)
        with BuildLine():
            ThreePointArc((10.0169737534, 22.9054630345), (8.9182751228, 24.1135722952), (9.0862808461, 25.7379000772))
            Line((9.0862808461, 25.7379000772), (9.5892838882, 26.6091269025))
            ThreePointArc((9.5892838882, 26.6091269025), (10.700800761, 27.5104258363), (12.1300014597, 27.4383502527))
            ThreePointArc((12.1300014597, 27.4383502527), (15, 25.9807621135), (17.6973076269, 24.2240645384))
            ThreePointArc((17.6973076269, 24.2240645384), (18.4743272627, 23.0223782181), (18.249537926, 21.6091269025))
            Line((18.249537926, 21.6091269025), (17.7465348839, 20.7379000772))
            ThreePointArc((17.7465348839, 20.7379000772), (16.4238286222, 19.7802389618), (14.8282259966, 20.1276852567))
            ThreePointArc((14.8282259966, 20.1276852567), (12.5, 21.6506350946), (10.0169737534, 22.9054630345))
        make_face(mode=Mode.SUBTRACT)
        with BuildLine():
            ThreePointArc((20, 0), (14.1421356237, 14.1421356237), (0, 20))
            ThreePointArc((0, 20), (-14.1421356237, -14.1421356237), (20, 0))
        make_face()
        with BuildLine():
            ThreePointArc((5, 0), (-3.5355339059, -3.5355339059), (0, 5))
            ThreePointArc((0, 5), (3.5355339059, 3.5355339059), (5, 0))
        make_face(mode=Mode.SUBTRACT)
    extrude(amount=F1_DEPTH, both=True)

    # F0 (on Right) → F2 (join, symmetric)
    with BuildSketch(Plane.YZ):
        with BuildLine():
            ThreePointArc((20, 0), (14.1421356237, 14.1421356237), (0, 20))
            ThreePointArc((0, 20), (-14.1421356237, -14.1421356237), (20, 0))
        make_face()
        with BuildLine():
            ThreePointArc((5, 0), (-3.5355339059, -3.5355339059), (0, 5))
            ThreePointArc((0, 5), (3.5355339059, 3.5355339059), (5, 0))
        make_face(mode=Mode.SUBTRACT)
    extrude(amount=F2_DEPTH, both=True)

    # F3 (on Front) → F4 (revolve, cut)
    with BuildSketch(Plane.XZ):
        with BuildLine():
            Line((7, 37.5), (0, 37.5))
            ThreePointArc((0, 37.5), (3.5650335901, 37.1579611989), (7, 36.1443237868))
            Line((7, 36.1443237868), (7, 37.5))
        make_face()
        with BuildLine():
            ThreePointArc((-7, 36.1443237868), (-3.5650335901, 37.1579611989), (0, 37.5))
            Line((0, 37.5), (-7, 37.5))
            Line((-7, 37.5), (-7, 36.1443237868))
        make_face()
    revolve(axis=Axis((-0.1237622588, 0, 0), (1, 0, 0)), mode=Mode.SUBTRACT)


with BuildPart() as f5:
    # F0 (on Right) → F5 (new body, symmetric)
    with BuildSketch(Plane.YZ):
        with BuildLine():
            ThreePointArc((5, 0), (3.5355339059, 3.5355339059), (0, 5))
            ThreePointArc((0, 5), (-3.5355339059, -3.5355339059), (5, 0))
        make_face()
    extrude(amount=F5_DEPTH, both=True)


solid = Compound([f1.part, f5.part])
